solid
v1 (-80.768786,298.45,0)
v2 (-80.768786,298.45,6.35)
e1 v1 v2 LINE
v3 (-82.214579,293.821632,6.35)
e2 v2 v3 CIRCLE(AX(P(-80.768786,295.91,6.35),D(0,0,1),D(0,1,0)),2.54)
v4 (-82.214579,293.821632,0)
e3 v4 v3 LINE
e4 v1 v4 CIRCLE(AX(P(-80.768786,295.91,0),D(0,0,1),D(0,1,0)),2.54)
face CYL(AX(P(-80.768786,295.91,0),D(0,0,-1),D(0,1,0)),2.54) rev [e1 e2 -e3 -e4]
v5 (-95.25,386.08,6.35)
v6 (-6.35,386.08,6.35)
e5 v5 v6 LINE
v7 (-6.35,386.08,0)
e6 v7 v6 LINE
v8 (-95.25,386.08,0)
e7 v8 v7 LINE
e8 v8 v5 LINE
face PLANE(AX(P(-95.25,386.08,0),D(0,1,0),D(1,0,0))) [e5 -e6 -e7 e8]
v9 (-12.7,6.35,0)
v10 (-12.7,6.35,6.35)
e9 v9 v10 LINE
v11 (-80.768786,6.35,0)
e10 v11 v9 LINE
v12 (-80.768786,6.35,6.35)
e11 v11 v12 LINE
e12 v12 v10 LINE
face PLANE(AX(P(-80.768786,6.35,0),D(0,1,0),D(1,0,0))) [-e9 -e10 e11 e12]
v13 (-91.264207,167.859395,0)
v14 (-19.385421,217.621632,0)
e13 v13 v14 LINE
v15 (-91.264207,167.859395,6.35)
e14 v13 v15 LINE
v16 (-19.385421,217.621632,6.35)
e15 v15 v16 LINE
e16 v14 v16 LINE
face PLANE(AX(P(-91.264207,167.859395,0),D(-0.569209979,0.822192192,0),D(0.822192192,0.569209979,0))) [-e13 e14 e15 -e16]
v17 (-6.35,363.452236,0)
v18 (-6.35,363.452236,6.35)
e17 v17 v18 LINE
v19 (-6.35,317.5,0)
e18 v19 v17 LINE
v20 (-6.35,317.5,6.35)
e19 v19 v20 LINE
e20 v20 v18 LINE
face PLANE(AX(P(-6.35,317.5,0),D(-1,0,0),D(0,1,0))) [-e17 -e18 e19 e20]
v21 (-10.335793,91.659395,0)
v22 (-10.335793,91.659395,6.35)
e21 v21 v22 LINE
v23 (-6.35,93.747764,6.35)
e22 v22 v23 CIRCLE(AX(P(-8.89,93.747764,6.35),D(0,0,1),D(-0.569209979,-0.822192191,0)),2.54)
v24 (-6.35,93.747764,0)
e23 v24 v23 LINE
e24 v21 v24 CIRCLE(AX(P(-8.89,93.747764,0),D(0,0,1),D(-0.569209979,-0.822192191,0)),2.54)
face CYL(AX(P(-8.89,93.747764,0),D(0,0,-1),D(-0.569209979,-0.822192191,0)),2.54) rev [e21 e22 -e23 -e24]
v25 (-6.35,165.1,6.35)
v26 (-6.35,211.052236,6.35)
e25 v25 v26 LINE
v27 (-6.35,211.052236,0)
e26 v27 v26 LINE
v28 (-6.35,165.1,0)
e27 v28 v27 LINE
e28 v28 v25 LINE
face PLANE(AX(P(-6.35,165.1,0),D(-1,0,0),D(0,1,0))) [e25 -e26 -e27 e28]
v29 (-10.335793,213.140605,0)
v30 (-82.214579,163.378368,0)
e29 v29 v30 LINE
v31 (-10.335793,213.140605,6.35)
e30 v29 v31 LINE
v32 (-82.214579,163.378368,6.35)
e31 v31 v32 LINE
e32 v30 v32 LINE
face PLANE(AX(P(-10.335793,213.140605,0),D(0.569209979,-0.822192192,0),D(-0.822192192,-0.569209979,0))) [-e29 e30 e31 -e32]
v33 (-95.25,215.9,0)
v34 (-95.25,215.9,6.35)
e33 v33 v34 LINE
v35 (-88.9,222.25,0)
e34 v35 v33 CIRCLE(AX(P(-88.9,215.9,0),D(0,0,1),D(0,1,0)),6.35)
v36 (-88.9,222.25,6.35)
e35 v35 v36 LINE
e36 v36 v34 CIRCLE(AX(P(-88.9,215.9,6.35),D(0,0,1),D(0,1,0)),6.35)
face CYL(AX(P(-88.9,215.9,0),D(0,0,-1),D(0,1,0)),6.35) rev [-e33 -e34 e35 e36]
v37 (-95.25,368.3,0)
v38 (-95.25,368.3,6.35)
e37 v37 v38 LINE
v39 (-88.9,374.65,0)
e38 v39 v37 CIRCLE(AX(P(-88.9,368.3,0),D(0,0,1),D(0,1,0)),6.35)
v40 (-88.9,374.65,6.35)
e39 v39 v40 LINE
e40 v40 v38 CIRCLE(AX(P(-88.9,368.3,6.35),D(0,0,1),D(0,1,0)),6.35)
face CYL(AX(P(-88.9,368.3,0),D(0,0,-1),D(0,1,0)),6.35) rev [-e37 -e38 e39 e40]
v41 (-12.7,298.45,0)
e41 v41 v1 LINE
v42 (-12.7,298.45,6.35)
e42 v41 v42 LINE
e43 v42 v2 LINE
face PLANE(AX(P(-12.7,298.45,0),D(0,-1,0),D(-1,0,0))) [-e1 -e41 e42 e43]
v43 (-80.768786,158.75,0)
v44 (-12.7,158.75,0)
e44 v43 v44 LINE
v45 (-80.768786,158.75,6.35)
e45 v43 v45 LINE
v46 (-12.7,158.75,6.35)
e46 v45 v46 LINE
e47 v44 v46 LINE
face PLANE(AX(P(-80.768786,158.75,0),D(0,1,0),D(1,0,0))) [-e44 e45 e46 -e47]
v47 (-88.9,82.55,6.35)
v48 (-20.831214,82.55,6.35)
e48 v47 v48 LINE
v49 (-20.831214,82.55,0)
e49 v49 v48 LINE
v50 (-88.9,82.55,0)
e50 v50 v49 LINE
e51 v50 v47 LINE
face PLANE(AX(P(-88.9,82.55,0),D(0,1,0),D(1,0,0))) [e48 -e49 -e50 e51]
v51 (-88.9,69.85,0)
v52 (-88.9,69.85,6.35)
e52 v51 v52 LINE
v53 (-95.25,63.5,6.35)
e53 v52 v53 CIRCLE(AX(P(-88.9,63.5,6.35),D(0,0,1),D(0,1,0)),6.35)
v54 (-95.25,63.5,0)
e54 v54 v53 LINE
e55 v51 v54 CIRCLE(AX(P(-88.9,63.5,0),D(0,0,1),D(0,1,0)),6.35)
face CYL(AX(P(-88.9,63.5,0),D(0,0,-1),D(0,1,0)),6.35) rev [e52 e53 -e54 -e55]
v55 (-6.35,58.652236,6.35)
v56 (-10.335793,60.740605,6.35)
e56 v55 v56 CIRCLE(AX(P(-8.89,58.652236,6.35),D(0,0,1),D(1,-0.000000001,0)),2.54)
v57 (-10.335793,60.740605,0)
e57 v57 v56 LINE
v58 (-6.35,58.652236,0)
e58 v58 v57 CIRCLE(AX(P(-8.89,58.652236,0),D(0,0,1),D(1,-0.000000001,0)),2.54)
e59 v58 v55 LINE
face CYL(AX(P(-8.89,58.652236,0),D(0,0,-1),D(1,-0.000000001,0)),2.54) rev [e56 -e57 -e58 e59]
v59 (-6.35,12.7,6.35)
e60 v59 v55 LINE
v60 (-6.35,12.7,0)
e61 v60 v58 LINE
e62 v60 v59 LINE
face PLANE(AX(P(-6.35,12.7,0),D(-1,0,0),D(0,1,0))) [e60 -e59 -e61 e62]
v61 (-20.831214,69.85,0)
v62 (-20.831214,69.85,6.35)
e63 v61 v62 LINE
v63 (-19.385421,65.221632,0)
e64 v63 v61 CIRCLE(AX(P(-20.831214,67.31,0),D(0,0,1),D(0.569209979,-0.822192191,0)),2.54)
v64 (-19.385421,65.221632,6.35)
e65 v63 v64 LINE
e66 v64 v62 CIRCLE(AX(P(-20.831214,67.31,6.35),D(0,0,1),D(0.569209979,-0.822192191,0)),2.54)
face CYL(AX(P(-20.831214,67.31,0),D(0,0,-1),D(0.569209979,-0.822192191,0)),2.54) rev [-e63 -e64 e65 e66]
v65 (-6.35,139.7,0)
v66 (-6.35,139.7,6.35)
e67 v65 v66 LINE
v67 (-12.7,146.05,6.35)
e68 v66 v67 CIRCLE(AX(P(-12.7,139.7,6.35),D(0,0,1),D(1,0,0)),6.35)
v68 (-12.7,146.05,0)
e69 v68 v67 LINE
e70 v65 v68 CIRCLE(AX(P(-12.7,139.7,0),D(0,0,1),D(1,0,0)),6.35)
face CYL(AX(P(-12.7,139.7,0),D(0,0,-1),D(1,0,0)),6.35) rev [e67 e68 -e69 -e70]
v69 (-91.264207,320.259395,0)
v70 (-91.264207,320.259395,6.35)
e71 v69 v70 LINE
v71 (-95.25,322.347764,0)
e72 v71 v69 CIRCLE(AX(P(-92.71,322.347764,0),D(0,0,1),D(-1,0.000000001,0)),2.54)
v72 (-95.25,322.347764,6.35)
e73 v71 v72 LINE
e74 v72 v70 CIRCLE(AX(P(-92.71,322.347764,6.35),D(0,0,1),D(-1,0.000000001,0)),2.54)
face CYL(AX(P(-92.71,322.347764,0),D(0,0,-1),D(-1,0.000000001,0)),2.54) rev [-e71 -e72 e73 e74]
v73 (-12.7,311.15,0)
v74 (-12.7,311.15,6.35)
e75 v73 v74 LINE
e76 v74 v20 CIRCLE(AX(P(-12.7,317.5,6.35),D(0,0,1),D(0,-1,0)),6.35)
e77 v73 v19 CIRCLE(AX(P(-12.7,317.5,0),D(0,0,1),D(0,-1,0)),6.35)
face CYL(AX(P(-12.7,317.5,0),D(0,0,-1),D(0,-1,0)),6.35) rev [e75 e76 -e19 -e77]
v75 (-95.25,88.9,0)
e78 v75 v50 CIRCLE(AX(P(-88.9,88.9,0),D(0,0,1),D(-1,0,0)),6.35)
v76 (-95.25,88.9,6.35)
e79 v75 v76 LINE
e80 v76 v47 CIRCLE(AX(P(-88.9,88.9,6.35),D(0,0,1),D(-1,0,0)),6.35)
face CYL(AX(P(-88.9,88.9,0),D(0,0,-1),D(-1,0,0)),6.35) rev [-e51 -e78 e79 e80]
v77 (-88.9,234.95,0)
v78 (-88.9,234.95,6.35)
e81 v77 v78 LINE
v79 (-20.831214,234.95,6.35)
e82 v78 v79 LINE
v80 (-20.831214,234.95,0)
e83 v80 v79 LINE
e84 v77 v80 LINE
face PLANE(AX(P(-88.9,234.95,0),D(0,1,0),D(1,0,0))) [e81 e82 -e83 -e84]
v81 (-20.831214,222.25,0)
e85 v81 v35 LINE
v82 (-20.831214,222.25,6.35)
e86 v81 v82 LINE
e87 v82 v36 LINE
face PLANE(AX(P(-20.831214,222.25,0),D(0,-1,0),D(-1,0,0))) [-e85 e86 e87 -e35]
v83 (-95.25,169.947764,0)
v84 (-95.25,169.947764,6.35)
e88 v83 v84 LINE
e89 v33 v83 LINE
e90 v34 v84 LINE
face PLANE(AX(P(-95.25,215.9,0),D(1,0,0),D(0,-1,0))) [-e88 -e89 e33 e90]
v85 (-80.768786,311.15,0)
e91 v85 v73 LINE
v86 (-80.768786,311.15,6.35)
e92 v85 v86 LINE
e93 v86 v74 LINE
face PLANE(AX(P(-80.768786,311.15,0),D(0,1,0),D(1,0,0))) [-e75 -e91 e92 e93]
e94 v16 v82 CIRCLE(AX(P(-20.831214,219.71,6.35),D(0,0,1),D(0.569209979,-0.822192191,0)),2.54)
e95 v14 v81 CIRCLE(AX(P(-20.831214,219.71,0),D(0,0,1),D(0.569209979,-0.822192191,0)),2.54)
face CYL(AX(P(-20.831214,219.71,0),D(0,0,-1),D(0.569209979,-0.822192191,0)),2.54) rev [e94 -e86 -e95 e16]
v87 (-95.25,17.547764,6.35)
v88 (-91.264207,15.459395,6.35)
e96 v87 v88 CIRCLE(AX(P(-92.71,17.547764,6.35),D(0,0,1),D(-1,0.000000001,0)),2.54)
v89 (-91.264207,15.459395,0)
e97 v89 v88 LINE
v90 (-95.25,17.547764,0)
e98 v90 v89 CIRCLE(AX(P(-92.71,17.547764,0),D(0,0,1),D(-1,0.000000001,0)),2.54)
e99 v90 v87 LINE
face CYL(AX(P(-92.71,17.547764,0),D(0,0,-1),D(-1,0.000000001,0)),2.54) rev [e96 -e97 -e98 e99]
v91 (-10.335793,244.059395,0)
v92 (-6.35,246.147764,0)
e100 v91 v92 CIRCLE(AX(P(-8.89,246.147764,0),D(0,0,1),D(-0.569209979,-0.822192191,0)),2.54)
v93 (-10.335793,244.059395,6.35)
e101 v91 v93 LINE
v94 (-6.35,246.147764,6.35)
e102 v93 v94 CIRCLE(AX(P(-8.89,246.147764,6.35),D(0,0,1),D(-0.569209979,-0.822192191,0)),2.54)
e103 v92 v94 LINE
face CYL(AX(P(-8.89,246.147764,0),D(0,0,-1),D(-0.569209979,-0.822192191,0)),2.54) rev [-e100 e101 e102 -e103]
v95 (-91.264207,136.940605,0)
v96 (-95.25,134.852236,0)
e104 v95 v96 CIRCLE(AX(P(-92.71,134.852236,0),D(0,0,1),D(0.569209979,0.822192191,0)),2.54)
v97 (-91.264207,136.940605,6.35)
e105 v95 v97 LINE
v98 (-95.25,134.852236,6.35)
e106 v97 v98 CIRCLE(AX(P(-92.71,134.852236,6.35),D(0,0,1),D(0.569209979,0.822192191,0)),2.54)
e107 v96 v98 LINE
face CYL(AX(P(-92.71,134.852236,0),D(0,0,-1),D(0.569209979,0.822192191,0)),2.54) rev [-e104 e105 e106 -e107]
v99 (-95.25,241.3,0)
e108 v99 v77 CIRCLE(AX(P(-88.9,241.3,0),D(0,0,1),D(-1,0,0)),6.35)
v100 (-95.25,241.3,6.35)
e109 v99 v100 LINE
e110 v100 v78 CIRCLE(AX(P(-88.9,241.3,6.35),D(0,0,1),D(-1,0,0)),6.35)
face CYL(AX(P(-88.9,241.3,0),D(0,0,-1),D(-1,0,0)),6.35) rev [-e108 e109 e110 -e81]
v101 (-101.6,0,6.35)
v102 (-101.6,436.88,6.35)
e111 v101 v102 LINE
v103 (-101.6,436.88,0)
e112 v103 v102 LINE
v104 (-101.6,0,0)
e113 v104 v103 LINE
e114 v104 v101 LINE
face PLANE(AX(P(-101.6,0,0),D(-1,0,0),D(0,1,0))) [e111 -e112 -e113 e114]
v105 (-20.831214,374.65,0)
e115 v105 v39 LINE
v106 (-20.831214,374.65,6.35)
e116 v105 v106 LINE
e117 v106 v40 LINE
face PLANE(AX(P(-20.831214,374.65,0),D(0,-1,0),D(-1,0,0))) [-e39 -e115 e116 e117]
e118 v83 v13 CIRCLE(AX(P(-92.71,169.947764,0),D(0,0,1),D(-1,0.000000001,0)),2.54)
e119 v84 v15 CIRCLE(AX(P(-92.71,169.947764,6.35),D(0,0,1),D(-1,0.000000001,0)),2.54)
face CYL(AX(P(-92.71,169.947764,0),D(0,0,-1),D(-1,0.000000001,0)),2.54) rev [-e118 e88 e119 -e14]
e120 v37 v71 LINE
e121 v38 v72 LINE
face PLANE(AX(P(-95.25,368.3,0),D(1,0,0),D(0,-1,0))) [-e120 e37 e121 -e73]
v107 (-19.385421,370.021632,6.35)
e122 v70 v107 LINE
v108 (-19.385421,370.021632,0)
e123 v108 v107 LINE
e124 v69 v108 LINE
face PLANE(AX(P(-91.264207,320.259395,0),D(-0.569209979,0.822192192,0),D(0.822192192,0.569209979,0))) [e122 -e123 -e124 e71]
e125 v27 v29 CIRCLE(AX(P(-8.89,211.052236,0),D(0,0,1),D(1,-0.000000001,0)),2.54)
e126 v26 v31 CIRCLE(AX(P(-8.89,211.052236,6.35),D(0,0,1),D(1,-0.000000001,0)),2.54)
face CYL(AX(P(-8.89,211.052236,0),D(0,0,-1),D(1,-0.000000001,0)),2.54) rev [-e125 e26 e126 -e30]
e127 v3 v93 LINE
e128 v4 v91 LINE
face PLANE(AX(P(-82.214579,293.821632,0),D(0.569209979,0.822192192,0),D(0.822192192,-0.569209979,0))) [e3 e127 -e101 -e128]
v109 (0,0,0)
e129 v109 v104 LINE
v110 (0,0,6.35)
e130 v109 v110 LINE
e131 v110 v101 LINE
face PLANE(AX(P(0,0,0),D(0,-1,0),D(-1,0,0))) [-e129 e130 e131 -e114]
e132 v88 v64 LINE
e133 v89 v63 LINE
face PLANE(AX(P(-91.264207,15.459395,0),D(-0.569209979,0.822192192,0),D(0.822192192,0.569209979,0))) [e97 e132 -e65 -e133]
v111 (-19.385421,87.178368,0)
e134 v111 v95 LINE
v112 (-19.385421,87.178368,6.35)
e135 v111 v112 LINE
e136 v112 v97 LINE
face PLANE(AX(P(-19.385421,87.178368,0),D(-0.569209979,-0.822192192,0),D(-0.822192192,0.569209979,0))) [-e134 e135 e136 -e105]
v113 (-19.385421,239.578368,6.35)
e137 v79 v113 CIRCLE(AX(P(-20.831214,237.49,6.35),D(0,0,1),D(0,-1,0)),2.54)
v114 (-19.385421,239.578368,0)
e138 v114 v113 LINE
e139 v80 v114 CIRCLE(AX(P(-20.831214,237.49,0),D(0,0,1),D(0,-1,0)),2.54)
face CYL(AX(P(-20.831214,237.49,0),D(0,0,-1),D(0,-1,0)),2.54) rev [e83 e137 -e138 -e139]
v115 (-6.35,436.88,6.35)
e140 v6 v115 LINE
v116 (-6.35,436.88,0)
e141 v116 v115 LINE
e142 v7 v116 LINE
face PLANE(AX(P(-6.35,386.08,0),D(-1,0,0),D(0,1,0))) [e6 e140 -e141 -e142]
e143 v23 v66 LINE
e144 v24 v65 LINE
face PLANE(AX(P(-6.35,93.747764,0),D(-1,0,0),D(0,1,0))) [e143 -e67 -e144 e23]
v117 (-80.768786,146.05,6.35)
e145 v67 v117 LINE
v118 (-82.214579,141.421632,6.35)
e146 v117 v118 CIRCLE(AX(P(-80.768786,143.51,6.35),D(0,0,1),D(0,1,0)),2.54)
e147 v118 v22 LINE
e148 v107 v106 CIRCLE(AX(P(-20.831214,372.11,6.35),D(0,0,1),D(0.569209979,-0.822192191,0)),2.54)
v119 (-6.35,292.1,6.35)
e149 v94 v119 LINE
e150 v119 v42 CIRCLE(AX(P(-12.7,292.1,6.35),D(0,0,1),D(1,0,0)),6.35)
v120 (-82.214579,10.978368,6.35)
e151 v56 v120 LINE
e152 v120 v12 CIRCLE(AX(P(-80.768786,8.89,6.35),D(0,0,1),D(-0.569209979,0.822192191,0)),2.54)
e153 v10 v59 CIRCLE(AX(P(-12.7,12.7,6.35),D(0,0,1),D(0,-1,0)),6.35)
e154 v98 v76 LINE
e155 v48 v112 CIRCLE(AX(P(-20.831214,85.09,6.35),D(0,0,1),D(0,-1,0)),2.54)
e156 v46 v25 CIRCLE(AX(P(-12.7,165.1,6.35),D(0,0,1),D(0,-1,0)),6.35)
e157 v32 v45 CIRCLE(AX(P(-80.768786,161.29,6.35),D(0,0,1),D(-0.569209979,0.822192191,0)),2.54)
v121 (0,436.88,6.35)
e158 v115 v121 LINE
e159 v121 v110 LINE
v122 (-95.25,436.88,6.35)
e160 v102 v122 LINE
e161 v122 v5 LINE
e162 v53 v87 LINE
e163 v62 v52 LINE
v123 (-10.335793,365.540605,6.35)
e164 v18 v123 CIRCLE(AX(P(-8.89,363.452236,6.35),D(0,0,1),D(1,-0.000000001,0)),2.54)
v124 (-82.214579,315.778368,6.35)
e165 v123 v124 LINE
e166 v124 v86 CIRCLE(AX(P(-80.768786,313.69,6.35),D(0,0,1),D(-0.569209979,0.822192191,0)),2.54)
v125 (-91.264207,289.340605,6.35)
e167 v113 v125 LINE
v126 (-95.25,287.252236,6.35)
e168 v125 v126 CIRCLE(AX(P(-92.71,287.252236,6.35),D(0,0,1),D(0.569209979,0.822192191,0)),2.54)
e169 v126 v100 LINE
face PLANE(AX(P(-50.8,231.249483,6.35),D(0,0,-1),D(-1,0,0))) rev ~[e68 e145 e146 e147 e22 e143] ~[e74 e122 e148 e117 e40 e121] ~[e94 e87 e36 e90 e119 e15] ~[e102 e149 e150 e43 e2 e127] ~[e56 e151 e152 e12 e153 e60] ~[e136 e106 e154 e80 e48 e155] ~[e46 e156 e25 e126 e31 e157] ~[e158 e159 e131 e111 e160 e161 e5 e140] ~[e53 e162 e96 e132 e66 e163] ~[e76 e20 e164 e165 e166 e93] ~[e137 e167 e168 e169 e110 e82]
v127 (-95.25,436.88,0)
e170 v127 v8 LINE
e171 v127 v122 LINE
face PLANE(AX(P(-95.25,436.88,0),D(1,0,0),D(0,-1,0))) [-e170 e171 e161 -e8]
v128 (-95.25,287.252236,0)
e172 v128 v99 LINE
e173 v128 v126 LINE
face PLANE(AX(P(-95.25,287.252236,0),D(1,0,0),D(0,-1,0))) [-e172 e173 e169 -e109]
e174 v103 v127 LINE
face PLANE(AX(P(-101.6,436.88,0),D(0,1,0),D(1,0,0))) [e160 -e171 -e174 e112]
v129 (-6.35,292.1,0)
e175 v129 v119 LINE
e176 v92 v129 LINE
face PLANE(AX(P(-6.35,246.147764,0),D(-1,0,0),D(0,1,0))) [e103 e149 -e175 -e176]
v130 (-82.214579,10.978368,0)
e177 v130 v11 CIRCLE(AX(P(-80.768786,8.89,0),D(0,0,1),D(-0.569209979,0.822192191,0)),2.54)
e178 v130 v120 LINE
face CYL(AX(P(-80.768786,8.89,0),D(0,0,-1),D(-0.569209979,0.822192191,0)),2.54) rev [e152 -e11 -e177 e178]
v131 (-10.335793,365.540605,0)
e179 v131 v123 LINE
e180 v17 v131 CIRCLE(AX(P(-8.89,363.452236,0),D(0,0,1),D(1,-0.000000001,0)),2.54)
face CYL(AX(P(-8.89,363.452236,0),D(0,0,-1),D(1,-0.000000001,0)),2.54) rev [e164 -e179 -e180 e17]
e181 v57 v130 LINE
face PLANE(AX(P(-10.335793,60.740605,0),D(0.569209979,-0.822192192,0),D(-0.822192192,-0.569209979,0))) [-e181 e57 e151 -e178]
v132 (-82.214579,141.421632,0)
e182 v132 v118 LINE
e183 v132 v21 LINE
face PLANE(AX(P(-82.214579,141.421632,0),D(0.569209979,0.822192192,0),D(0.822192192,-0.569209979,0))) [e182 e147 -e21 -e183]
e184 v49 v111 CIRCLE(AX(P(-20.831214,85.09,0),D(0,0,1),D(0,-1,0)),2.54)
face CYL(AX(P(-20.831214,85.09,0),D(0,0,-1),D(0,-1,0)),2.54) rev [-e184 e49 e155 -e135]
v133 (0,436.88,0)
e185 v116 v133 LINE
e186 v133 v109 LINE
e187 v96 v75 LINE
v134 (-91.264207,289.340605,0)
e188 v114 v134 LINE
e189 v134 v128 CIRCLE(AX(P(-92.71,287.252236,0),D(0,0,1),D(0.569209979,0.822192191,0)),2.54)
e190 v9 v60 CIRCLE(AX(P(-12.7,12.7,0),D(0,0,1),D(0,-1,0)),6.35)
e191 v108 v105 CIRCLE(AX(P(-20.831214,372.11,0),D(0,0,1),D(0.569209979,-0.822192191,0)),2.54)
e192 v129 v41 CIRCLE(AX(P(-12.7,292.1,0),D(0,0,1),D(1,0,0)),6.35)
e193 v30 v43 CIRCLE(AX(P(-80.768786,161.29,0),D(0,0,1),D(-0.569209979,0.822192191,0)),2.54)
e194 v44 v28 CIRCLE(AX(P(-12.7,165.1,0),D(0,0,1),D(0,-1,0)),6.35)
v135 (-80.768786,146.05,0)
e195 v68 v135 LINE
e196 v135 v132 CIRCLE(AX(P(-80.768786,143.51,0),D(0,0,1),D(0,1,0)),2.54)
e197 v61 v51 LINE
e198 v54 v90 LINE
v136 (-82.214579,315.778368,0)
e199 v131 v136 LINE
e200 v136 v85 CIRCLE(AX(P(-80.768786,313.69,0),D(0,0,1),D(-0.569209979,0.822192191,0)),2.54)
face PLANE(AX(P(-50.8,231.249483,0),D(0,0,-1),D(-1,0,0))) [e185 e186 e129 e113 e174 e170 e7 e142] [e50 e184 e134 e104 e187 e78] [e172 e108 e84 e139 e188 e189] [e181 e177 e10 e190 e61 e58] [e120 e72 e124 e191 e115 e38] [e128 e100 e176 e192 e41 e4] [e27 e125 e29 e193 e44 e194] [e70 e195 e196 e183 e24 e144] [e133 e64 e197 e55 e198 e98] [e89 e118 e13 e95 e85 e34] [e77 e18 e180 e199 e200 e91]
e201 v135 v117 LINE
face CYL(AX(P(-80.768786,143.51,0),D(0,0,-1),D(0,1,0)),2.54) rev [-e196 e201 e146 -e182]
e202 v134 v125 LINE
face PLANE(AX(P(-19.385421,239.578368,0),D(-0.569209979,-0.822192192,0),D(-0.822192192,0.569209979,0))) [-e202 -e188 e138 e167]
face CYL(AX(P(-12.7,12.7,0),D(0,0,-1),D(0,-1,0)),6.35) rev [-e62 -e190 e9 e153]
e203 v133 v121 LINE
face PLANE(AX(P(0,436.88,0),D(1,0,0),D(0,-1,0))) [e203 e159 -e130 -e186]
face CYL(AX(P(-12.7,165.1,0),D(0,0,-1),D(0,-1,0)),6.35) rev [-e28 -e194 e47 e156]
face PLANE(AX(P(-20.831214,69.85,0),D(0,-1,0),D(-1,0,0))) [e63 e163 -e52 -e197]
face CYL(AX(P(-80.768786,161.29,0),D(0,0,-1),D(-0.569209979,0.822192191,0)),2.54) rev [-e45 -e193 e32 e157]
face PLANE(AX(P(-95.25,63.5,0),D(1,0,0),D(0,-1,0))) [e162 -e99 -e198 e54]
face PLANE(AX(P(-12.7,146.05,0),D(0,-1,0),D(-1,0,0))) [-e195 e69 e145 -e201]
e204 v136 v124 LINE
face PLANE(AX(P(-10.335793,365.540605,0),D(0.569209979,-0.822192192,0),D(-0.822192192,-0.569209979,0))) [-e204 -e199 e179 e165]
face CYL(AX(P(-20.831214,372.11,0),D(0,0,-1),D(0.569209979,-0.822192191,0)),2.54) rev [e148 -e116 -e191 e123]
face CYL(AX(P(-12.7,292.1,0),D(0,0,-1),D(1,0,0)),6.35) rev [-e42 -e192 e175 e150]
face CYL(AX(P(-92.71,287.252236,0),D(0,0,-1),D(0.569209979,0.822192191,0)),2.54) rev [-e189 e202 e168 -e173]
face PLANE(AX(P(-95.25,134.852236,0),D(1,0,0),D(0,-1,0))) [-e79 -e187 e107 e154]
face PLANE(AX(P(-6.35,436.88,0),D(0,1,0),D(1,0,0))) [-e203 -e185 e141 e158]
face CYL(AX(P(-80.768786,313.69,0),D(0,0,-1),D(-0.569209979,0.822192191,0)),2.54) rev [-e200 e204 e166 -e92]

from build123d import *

# Parameters (mm, degrees)
BOSS_EXTRUDE1_DEPTH = 6.35


with BuildPart() as part:
    # Model → Boss-Extrude1 (new body)
    with BuildSketch(Plane.XY):
        Polygon((-95.25, 386.08), (-6.35, 386.08), (-6.35, 436.88), (0, 436.88), (0, 0), (-101.6, 0), (-101.6, 436.88), (-95.25, 436.88), align=None)
        with BuildLine():
            Line((-80.76878597, 311.15), (-12.7, 311.15))
            ThreePointArc((-12.7, 311.15), (-8.209871939, 313.009871939), (-6.35, 317.5))
            Line((-6.35, 317.5), (-6.35, 363.45223644))
            ThreePointArc((-6.35, 363.45223644), (-7.711169032, 365.702115893), (-10.335793346, 365.540604607))
            Line((-10.335793346, 365.540604607), (-82.214579316, 315.778368167))
            ThreePointArc((-82.214579316, 315.778368167), (-83.193250358, 312.932654354), (-80.76878597, 311.15))
        make_face(mode=Mode.SUBTRACT)
        with BuildLine():
            Line((-95.25, 287.25223644), (-95.25, 241.3))
            ThreePointArc((-95.25, 241.3), (-93.390128061, 236.809871939), (-88.9, 234.95))
            Line((-88.9, 234.95), (-20.83121403, 234.95))
            ThreePointArc((-20.83121403, 234.95), (-18.406749642, 236.732654354), (-19.385420684, 239.578368167))
            Line((-19.385420684, 239.578368167), (-91.264206654, 289.340604607))
            ThreePointArc((-91.264206654, 289.340604607), (-93.888830968, 289.502115893), (-95.25, 287.25223644))
        make_face(mode=Mode.SUBTRACT)
        with BuildLine():
            Line((-80.76878597, 158.75), (-12.7, 158.75))
            ThreePointArc((-12.7, 158.75), (-8.209871939, 160.609871939), (-6.35, 165.1))
            Line((-6.35, 165.1), (-6.35, 211.05223644))
            ThreePointArc((-6.35, 211.05223644), (-7.711169032, 213.302115893), (-10.335793346, 213.140604607))
            Line((-10.335793346, 213.140604607), (-82.214579316, 163.378368167))
            ThreePointArc((-82.214579316, 163.378368167), (-83.193250358, 160.532654354), (-80.76878597, 158.75))
        make_face(mode=Mode.SUBTRACT)
        with BuildLine():
            Line((-20.83121403, 222.25), (-88.9, 222.25))
            ThreePointArc((-88.9, 222.25), (-93.390128061, 220.390128061), (-95.25, 215.9))
            Line((-95.25, 215.9), (-95.25, 169.94776356))
            ThreePointArc((-95.25, 169.94776356), (-93.888830968, 167.697884107), (-91.264206654, 167.859395393))
            Line((-91.264206654, 167.859395393), (-19.385420684, 217.621631833))
            ThreePointArc((-19.385420684, 217.621631833), (-18.406749642, 220.467345646), (-20.83121403, 222.25))
        make_face(mode=Mode.SUBTRACT)
        with BuildLine():
            Line((-82.214579316, 293.821631833), (-10.335793346, 244.059395393))
            ThreePointArc((-10.335793346, 244.059395393), (-7.711169032, 243.897884107), (-6.35, 246.14776356))
            Line((-6.35, 246.14776356), (-6.35, 292.1))
            ThreePointArc((-6.35, 292.1), (-8.209871939, 296.590128061), (-12.7, 298.45))
            Line((-12.7, 298.45), (-80.76878597, 298.45))
            ThreePointArc((-80.76878597, 298.45), (-83.193250358, 296.667345646), (-82.214579316, 293.821631833))
        make_face(mode=Mode.SUBTRACT)
        with BuildLine():
            Line((-95.25, 134.85223644), (-95.25, 88.9))
            ThreePointArc((-95.25, 88.9), (-93.390128061, 84.409871939), (-88.9, 82.55))
            Line((-88.9, 82.55), (-20.83121403, 82.55))
            ThreePointArc((-20.83121403, 82.55), (-18.406749642, 84.332654354), (-19.385420684, 87.178368167))
            Line((-19.385420684, 87.178368167), (-91.264206654, 136.940604607))
            ThreePointArc((-91.264206654, 136.940604607), (-93.888830968, 137.102115893), (-95.25, 134.85223644))
        make_face(mode=Mode.SUBTRACT)
        with BuildLine():
            Line((-80.76878597, 6.35), (-12.7, 6.35))
            ThreePointArc((-12.7, 6.35), (-8.209871939, 8.209871939), (-6.35, 12.7))
            Line((-6.35, 12.7), (-6.35, 58.65223644))
            ThreePointArc((-6.35, 58.65223644), (-7.711169032, 60.902115893), (-10.335793346, 60.740604607))
            Line((-10.335793346, 60.740604607), (-82.214579316, 10.978368167))
            ThreePointArc((-82.214579316, 10.978368167), (-83.193250358, 8.132654354), (-80.76878597, 6.35))
        make_face(mode=Mode.SUBTRACT)
        with BuildLine():
            Line((-20.83121403, 69.85), (-88.9, 69.85))
            ThreePointArc((-88.9, 69.85), (-93.390128061, 67.990128061), (-95.25, 63.5))
            Line((-95.25, 63.5), (-95.25, 17.54776356))
            ThreePointArc((-95.25, 17.54776356), (-93.888830968, 15.297884107), (-91.264206654, 15.459395393))
            Line((-91.264206654, 15.459395393), (-19.385420684, 65.221631833))
            ThreePointArc((-19.385420684, 65.221631833), (-18.406749642, 68.067345646), (-20.83121403, 69.85))
        make_face(mode=Mode.SUBTRACT)
        with BuildLine():
            Line((-20.83121403, 374.65), (-88.9, 374.65))
            ThreePointArc((-88.9, 374.65), (-93.390128061, 372.790128061), (-95.25, 368.3))
            Line((-95.25, 368.3), (-95.25, 322.34776356))
            ThreePointArc((-95.25, 322.34776356), (-93.888830968, 320.097884107), (-91.264206654, 320.259395393))
            Line((-91.264206654, 320.259395393), (-19.385420684, 370.021631833))
            ThreePointArc((-19.385420684, 370.021631833), (-18.406749642, 372.867345646), (-20.83121403, 374.65))
        make_face(mode=Mode.SUBTRACT)
        with BuildLine():
            Line((-82.214579316, 141.421631833), (-10.335793346, 91.659395393))
            ThreePointArc((-10.335793346, 91.659395393), (-7.711169032, 91.497884107), (-6.35, 93.74776356))
            Line((-6.35, 93.74776356), (-6.35, 139.7))
            ThreePointArc((-6.35, 139.7), (-8.209871939, 144.190128061), (-12.7, 146.05))
            Line((-12.7, 146.05), (-80.76878597, 146.05))
            ThreePointArc((-80.76878597, 146.05), (-83.193250358, 144.267345646), (-82.214579316, 141.421631833))
        make_face(mode=Mode.SUBTRACT)
    extrude(amount=BOSS_EXTRUDE1_DEPTH)


solid = part.part
